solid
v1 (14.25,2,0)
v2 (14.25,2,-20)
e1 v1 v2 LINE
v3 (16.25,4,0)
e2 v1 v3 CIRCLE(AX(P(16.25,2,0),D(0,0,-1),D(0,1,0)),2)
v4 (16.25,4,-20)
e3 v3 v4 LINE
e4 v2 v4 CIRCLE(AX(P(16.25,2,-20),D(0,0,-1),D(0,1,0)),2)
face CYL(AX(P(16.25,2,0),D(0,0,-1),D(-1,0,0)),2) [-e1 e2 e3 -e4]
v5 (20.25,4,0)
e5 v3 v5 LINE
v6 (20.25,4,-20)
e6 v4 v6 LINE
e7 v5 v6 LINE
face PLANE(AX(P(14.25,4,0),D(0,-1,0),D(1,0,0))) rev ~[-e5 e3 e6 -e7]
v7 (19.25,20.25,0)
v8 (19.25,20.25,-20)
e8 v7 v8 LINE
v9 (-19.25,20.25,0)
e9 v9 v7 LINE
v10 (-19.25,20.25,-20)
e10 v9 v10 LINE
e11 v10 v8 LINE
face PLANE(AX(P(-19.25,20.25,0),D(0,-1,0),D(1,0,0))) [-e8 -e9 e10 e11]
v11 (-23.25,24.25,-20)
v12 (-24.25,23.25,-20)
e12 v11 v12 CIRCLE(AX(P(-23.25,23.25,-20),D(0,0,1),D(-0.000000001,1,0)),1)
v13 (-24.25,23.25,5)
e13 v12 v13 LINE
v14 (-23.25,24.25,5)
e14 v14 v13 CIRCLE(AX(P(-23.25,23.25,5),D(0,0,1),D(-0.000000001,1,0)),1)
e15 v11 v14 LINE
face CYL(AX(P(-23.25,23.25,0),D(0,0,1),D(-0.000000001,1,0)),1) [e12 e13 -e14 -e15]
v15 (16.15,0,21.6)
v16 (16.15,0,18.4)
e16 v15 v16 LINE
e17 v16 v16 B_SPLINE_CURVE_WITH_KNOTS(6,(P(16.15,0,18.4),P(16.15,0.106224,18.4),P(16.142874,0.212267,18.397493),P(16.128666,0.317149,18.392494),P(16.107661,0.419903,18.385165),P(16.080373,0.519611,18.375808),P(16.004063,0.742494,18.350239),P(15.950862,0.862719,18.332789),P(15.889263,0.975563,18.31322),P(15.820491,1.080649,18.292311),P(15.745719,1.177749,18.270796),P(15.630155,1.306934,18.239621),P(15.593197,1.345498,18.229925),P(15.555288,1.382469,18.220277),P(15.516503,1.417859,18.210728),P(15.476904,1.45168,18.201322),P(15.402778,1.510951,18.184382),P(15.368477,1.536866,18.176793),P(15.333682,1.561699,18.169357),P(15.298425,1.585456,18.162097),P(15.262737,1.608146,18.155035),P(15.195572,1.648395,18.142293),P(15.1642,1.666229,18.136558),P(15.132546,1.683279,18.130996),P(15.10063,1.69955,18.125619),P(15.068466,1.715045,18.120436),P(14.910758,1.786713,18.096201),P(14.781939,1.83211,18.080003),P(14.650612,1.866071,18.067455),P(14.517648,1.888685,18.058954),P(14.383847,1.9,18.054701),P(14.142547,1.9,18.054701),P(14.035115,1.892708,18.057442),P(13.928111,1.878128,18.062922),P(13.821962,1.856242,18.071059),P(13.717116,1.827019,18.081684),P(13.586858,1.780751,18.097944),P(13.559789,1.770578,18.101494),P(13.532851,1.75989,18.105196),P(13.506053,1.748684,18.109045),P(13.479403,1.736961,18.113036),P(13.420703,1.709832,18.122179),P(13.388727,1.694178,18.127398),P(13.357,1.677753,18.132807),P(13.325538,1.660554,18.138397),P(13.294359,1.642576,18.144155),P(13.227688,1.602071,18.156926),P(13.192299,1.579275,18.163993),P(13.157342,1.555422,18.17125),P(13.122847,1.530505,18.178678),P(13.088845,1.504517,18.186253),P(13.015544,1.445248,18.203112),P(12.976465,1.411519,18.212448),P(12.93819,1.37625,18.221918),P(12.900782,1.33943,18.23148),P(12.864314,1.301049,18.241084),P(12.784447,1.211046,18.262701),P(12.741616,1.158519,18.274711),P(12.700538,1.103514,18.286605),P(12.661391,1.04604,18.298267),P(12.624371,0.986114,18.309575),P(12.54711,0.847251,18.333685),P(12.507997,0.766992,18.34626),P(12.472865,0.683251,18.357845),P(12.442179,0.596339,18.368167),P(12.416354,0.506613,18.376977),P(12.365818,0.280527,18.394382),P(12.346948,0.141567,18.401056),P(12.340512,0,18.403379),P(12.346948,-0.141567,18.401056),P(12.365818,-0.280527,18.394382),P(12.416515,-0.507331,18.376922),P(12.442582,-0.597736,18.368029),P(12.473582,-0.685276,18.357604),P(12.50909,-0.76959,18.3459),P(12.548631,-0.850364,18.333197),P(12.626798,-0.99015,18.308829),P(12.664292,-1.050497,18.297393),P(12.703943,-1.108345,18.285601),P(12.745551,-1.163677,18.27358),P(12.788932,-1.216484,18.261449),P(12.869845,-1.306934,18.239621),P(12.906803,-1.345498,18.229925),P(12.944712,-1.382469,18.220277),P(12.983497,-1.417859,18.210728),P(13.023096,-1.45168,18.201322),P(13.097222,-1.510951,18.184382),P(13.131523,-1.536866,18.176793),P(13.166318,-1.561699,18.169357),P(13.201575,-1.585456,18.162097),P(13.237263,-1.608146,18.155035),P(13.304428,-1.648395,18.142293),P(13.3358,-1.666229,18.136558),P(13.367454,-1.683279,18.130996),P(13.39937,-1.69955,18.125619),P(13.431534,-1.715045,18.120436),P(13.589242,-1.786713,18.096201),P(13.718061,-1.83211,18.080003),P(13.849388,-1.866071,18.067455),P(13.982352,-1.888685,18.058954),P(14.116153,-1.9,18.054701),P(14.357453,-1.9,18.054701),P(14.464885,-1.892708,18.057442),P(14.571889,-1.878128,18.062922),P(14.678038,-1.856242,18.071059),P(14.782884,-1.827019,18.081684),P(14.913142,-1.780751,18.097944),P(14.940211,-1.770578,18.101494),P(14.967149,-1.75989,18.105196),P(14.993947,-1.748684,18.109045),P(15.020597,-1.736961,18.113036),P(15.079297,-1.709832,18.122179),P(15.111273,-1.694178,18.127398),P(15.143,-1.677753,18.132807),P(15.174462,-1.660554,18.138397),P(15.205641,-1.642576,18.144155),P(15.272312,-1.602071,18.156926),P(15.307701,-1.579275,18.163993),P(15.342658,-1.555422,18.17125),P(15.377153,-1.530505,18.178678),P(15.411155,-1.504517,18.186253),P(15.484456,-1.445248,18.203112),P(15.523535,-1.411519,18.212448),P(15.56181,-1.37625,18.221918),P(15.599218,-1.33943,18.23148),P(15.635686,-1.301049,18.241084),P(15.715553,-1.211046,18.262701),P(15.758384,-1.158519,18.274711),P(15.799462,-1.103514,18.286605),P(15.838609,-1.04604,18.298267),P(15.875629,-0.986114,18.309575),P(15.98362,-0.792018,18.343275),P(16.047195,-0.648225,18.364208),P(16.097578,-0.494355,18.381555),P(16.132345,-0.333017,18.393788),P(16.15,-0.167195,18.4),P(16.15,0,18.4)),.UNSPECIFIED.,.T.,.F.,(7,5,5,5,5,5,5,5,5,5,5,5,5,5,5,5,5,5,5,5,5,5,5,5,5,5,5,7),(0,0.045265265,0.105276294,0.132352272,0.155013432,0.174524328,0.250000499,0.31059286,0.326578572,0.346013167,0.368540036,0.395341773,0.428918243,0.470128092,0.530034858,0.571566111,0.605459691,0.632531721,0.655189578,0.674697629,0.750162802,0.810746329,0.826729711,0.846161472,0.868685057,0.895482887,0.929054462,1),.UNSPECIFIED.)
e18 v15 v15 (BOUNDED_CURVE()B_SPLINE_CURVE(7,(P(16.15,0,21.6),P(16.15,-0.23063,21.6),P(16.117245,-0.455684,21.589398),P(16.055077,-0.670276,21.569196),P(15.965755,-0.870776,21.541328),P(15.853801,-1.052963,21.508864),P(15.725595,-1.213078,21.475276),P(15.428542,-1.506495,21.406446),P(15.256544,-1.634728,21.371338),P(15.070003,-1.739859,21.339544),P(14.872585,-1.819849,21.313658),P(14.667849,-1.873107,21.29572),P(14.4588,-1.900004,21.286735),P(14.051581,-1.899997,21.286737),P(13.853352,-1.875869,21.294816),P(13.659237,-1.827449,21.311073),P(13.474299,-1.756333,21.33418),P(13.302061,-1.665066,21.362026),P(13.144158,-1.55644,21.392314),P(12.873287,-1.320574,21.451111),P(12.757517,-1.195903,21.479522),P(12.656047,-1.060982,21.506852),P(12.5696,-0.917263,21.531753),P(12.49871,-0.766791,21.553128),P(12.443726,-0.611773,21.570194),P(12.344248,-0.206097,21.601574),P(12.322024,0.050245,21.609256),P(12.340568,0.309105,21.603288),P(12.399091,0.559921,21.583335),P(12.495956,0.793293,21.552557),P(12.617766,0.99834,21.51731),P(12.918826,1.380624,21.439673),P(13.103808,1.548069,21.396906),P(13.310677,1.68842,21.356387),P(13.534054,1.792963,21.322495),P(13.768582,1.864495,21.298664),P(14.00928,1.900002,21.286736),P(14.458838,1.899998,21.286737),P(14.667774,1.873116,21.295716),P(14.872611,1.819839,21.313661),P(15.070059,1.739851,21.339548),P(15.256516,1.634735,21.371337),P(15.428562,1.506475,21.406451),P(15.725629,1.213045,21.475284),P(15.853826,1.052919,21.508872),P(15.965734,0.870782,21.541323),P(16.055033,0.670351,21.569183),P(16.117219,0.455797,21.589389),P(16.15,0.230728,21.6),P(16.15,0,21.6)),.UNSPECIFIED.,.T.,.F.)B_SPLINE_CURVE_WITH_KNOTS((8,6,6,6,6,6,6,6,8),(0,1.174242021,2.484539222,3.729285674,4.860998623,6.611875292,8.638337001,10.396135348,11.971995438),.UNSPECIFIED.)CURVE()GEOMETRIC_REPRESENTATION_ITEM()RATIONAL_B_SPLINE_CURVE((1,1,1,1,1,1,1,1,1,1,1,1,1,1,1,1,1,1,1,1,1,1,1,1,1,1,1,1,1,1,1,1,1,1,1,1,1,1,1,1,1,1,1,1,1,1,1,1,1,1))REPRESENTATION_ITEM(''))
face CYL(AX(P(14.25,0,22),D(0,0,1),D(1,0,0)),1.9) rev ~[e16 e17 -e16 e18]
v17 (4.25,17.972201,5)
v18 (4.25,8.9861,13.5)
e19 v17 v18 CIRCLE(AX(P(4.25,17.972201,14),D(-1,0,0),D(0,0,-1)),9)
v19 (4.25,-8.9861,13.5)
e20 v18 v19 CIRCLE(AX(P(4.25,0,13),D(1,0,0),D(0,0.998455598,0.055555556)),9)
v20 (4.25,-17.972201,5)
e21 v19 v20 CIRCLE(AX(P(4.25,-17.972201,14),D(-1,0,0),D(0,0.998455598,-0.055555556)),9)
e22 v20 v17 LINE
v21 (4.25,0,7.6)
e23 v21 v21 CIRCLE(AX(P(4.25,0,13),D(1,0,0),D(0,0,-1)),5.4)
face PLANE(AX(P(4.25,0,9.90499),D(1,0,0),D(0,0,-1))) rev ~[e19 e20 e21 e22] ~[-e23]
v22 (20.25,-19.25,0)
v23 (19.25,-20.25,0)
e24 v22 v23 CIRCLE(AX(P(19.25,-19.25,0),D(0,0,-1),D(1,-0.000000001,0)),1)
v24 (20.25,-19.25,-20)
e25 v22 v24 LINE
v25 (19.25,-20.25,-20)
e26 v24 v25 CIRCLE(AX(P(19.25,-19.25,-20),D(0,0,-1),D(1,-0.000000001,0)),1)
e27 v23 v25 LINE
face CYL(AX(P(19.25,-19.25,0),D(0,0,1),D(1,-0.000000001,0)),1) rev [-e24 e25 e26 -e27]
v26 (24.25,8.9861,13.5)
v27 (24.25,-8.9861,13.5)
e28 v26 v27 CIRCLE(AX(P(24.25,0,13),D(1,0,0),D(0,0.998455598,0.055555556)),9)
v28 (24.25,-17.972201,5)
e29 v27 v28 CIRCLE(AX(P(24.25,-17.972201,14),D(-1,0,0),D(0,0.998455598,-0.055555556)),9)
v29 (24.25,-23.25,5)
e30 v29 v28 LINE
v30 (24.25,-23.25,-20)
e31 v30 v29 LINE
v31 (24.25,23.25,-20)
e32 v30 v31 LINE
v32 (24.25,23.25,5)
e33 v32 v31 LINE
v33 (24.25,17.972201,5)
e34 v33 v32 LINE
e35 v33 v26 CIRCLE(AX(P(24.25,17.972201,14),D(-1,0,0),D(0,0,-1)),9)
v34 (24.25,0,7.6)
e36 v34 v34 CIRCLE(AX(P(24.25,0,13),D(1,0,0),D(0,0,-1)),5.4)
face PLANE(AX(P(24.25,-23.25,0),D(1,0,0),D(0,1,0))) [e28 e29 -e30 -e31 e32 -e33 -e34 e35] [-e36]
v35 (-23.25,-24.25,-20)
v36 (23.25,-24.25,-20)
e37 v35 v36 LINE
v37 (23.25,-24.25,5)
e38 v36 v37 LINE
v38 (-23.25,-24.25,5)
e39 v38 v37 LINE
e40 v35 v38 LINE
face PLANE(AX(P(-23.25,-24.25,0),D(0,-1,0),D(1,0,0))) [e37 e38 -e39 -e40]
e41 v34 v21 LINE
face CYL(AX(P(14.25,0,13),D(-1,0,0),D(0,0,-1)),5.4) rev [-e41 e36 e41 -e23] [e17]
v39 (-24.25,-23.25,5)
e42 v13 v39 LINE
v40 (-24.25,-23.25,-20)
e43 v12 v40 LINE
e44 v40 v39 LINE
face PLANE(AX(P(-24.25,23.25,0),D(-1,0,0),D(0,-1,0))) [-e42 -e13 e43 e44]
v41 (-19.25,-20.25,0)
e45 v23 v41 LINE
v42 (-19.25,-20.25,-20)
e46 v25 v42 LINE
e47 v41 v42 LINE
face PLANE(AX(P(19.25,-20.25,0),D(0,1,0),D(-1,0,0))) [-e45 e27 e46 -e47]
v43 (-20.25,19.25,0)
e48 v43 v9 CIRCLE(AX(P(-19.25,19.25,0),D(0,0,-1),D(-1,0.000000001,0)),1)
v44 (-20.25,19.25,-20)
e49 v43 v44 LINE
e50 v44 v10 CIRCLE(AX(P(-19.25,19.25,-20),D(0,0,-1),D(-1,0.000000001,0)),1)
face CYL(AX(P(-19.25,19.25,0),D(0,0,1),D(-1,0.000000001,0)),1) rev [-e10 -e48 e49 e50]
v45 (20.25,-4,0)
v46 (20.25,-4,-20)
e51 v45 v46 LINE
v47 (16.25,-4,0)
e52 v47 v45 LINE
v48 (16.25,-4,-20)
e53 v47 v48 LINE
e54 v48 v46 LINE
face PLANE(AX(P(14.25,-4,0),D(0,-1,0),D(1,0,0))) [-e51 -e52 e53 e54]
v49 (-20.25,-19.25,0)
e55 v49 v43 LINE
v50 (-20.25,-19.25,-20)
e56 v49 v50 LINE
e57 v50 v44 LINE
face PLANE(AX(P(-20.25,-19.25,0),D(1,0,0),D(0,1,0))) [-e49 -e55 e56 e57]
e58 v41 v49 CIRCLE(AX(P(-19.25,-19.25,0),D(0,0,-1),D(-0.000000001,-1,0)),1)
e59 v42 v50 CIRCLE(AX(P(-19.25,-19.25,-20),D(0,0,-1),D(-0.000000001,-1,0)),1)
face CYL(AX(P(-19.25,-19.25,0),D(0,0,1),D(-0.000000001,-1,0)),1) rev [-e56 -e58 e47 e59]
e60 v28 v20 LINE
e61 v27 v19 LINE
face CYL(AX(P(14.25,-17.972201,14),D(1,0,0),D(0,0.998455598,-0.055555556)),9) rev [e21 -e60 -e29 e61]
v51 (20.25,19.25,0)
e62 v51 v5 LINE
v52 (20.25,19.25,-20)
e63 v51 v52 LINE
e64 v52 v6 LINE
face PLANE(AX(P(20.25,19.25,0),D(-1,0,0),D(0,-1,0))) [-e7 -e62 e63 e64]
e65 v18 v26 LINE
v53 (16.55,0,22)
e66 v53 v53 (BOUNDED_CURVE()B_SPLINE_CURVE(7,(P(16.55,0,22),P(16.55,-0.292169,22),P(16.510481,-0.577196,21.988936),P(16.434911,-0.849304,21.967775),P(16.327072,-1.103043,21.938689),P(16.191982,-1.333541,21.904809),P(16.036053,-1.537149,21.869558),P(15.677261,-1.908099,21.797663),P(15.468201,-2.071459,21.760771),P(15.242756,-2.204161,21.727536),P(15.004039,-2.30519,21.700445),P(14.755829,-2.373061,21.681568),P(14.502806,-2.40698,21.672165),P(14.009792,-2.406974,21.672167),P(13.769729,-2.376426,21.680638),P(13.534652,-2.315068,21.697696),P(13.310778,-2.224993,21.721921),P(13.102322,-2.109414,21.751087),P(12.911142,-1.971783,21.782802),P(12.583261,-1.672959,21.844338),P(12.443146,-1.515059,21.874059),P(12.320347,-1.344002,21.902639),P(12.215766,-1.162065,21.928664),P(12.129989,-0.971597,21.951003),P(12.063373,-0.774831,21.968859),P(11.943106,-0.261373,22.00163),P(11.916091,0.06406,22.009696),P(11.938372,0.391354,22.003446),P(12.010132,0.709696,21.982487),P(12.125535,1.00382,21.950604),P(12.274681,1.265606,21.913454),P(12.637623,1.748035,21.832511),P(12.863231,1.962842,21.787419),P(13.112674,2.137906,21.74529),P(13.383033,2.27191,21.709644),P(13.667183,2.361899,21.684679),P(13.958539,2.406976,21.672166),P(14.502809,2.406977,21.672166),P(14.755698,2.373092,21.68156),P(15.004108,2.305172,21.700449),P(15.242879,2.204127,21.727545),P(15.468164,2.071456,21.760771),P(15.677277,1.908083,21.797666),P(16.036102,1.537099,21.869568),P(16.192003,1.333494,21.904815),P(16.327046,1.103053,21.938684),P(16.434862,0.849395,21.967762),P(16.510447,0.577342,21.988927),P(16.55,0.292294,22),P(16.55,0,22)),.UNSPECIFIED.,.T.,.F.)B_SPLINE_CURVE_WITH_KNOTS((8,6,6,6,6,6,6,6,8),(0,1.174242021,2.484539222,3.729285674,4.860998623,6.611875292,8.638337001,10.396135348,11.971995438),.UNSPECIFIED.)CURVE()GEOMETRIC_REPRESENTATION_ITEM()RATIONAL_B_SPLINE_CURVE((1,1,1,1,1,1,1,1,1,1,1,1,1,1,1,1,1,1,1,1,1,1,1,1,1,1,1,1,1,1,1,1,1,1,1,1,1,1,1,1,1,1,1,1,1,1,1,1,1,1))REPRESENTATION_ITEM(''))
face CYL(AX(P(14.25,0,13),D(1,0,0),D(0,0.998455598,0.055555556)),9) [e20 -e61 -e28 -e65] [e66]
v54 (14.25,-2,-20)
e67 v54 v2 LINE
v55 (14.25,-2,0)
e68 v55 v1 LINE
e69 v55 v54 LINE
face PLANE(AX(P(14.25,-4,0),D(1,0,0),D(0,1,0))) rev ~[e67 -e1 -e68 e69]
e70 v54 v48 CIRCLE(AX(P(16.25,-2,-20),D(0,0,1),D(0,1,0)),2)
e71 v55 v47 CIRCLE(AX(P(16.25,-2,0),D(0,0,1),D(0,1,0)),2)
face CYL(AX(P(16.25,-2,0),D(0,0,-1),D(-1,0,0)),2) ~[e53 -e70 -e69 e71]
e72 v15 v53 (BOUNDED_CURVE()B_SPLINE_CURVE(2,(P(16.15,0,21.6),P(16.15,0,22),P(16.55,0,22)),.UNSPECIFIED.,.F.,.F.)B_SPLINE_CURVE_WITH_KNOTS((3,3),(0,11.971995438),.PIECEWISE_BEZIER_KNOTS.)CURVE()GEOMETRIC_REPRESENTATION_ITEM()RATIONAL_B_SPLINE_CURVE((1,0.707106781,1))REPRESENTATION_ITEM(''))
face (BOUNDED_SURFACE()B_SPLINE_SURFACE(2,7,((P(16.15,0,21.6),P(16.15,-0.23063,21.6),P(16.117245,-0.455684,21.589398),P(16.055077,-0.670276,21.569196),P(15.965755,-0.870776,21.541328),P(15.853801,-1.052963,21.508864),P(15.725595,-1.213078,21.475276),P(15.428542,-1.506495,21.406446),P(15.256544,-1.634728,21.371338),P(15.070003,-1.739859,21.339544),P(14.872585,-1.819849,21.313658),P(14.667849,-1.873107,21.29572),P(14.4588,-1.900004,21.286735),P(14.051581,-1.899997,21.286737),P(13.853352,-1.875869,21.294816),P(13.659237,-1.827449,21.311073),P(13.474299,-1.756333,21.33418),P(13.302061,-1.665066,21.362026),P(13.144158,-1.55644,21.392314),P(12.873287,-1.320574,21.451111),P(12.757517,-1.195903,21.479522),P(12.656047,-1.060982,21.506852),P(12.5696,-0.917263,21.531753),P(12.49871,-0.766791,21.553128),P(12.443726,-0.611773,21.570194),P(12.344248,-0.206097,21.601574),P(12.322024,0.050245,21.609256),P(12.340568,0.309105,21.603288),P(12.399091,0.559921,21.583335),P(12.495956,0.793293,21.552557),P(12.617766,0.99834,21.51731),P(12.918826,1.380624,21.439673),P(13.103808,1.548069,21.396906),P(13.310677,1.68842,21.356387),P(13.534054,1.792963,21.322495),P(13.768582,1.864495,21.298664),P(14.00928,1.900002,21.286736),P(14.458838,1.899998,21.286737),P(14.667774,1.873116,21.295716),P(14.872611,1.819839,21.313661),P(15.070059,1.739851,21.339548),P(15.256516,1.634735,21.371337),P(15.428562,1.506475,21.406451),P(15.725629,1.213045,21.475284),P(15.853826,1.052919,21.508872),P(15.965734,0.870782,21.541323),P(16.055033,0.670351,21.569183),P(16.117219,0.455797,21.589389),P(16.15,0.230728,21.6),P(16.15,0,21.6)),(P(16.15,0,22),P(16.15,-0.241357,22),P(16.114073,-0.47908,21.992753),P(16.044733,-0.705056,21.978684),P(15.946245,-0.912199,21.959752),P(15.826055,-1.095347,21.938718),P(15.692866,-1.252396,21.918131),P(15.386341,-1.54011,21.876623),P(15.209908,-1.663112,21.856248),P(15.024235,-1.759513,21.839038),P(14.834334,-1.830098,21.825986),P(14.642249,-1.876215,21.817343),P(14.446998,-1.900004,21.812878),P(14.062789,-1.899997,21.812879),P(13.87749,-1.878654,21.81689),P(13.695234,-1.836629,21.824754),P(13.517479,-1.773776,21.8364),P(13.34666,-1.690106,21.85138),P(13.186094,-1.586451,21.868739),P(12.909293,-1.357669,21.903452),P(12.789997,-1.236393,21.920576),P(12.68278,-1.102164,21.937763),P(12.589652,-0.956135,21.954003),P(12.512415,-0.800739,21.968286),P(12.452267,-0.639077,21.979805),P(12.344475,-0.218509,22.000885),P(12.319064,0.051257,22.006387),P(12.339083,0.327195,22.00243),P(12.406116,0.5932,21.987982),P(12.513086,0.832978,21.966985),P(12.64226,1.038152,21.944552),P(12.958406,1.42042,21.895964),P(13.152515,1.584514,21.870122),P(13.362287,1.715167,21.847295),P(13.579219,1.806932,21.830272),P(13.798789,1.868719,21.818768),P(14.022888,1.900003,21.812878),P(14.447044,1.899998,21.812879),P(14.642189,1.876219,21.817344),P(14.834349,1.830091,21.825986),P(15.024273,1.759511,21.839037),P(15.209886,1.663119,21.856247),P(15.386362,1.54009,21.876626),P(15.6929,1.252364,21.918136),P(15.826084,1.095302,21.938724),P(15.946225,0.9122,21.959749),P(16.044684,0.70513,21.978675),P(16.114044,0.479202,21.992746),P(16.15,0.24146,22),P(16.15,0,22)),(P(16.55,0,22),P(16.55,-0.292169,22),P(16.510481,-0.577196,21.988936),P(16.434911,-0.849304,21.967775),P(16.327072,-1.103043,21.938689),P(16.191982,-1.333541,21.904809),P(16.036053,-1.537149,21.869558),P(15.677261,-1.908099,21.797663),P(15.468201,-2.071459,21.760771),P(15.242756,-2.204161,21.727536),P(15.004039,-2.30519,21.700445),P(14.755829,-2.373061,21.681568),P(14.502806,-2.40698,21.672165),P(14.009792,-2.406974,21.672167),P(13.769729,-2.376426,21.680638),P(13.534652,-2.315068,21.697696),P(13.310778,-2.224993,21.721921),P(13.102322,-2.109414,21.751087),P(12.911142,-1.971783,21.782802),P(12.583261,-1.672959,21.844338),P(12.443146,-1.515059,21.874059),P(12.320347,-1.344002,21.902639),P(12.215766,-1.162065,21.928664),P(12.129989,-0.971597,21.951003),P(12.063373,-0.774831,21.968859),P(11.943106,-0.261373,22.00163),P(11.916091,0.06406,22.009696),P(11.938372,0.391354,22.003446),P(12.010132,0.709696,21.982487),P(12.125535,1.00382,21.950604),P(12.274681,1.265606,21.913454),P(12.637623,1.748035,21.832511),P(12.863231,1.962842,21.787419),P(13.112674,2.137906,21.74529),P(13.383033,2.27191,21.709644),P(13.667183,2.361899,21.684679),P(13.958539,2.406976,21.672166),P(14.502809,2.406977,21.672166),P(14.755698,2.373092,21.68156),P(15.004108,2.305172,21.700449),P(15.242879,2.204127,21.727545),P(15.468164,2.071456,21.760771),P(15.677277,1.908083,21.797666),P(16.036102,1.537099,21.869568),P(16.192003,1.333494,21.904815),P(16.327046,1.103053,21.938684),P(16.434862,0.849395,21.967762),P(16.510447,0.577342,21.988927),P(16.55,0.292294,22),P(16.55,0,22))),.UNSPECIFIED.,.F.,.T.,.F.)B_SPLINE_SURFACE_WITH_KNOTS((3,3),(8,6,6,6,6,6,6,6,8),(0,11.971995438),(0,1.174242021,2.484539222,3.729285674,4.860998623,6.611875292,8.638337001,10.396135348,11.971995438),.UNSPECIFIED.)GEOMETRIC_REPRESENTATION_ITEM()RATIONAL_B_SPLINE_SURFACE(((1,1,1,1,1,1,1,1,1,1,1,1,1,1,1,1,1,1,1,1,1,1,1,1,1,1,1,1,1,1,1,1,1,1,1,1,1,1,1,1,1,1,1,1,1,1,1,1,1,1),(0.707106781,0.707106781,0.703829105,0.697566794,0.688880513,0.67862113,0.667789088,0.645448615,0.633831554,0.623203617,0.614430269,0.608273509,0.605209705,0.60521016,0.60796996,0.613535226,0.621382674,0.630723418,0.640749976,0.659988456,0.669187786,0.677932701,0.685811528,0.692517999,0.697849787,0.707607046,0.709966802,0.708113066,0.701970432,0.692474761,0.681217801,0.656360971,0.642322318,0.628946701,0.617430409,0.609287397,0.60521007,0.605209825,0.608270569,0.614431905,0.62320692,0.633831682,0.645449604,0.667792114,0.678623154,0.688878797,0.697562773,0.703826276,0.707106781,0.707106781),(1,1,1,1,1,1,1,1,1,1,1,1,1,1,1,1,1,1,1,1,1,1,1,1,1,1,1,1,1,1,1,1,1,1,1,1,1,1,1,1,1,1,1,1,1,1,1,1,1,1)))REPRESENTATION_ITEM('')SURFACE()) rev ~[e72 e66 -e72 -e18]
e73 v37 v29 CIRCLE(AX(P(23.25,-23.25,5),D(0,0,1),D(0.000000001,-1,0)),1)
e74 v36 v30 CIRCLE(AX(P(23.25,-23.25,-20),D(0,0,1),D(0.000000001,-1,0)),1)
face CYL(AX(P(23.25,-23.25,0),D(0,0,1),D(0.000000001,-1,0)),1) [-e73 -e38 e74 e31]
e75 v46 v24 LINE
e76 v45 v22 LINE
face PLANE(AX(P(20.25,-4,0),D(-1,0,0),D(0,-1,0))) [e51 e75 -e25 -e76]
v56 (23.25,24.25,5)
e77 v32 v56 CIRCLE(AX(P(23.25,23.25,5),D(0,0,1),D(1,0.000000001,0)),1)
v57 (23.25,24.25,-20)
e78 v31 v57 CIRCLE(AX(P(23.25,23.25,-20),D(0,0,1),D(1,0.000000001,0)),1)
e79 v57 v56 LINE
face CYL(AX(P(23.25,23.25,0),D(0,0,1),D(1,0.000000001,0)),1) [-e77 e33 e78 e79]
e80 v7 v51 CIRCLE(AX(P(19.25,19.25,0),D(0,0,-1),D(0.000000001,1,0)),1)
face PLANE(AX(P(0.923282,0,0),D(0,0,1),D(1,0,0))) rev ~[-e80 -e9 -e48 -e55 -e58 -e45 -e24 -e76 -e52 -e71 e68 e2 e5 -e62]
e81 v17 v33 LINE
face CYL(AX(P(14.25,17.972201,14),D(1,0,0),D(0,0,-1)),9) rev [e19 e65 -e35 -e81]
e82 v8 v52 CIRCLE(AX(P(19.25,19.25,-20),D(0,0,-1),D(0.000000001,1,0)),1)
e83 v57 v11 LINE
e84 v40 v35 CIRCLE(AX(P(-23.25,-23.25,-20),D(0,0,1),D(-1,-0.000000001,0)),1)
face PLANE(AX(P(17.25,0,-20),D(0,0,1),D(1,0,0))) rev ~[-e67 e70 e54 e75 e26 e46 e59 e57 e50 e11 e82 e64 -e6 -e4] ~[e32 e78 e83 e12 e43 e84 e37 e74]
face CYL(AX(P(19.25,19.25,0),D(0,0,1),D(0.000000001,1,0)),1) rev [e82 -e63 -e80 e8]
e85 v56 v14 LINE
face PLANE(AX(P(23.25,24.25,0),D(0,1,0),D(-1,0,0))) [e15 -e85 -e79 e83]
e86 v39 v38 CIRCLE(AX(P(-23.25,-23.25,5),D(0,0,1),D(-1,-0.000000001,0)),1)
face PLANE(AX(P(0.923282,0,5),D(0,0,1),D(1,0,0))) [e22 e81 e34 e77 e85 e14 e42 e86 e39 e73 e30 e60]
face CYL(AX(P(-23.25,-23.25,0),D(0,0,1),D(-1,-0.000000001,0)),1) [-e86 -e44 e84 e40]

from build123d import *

# Parameters (mm, degrees)
BOSS_EXTRUDE1_DEPTH = 5
SKETCH3_R           = 5.4
BOSS_EXTRUDE2_DEPTH = 10
BOSS_EXTRUDE3_START = -20
BOSS_EXTRUDE3_DEPTH = 20
FILLET1_R           = 2
SKETCH4_R           = 1.9
CUT_EXTRUDE1_DEPTH  = 10
FILLET2_R           = 0.4


with BuildPart() as part:
    # Sketch2 → Boss-Extrude1 (new body)
    with BuildSketch(Plane.XY):
        with BuildLine():
            Line((23.25, 24.25), (-23.25, 24.25))
            ThreePointArc((-23.25, 24.25), (-23.957106781, 23.957106781), (-24.25, 23.25))
            Line((-24.25, 23.25), (-24.25, -23.25))
            ThreePointArc((-24.25, -23.25), (-23.957106781, -23.957106781), (-23.25, -24.25))
            Line((-23.25, -24.25), (23.25, -24.25))
            ThreePointArc((23.25, -24.25), (23.957106781, -23.957106781), (24.25, -23.25))
            Line((24.25, -23.25), (24.25, 23.25))
            ThreePointArc((24.25, 23.25), (23.957106781, 23.957106781), (23.25, 24.25))
        make_face()
    extrude(amount=BOSS_EXTRUDE1_DEPTH)

    # Sketch3 → Boss-Extrude2 (add, symmetric)
    with BuildSketch(Plane(origin=(14.25, 0, 0), x_dir=(0, 0, -1), z_dir=(1, 0, 0))):
        with BuildLine():
            Line((-5, -17.972200756), (-5, 17.972200756))
            ThreePointArc((-5, 17.972200756), (-7.461651585, 11.787542317), (-13.5, 8.986100378))
            ThreePointArc((-13.5, 8.986100378), (-22, 0), (-13.5, -8.986100378))
            ThreePointArc((-13.5, -8.986100378), (-7.461651585, -11.787542317), (-5, -17.972200756))
        make_face()
        with Locations((-13, 0)):
            Circle(SKETCH3_R, mode=Mode.SUBTRACT)
    extrude(amount=BOSS_EXTRUDE2_DEPTH, both=True)

    # Sketch2<3> → Boss-Extrude3 (add)
    with BuildSketch(Plane.XY.offset(BOSS_EXTRUDE3_START)):
        with BuildLine():
            Line((23.25, 24.25), (-23.25, 24.25))
            ThreePointArc((-23.25, 24.25), (-23.957106781, 23.957106781), (-24.25, 23.25))
            Line((-24.25, 23.25), (-24.25, -23.25))
            ThreePointArc((-24.25, -23.25), (-23.957106781, -23.957106781), (-23.25, -24.25))
            Line((-23.25, -24.25), (23.25, -24.25))
            ThreePointArc((23.25, -24.25), (23.957106781, -23.957106781), (24.25, -23.25))
            Line((24.25, -23.25), (24.25, 23.25))
            ThreePointArc((24.25, 23.25), (23.957106781, 23.957106781), (23.25, 24.25))
        make_face()
        with BuildLine():
            Line((20.25, 19.25), (20.25, 4))
            Line((20.25, 4), (14.25, 4))
            Line((14.25, 4), (14.25, -4))
            Line((14.25, -4), (20.25, -4))
            Line((20.25, -4), (20.25, -19.25))
            ThreePointArc((20.25, -19.25), (19.957106781, -19.957106781), (19.25, -20.25))
            Line((19.25, -20.25), (-19.25, -20.25))
            ThreePointArc((-19.25, -20.25), (-19.957106781, -19.957106781), (-20.25, -19.25))
            Line((-20.25, -19.25), (-20.25, 19.25))
            ThreePointArc((-20.25, 19.25), (-19.957106781, 19.957106781), (-19.25, 20.25))
            Line((-19.25, 20.25), (19.25, 20.25))
            ThreePointArc((19.25, 20.25), (19.957106781, 19.957106781), (20.25, 19.25))
        make_face(mode=Mode.SUBTRACT)
    extrude(amount=BOSS_EXTRUDE3_DEPTH)

    # Fillet1
    fillet1_edges = [part.edges().sort_by_distance(p)[0] for p in [
        (14.25, -4, -10),
        (14.25, 4, -10),
    ]]
    fillet(fillet1_edges, radius=FILLET1_R)

    # Sketch4 → Cut-Extrude1 (cut)
    with BuildSketch(Plane.XY.offset(22)):
        with Locations((14.25, 0)):
            Circle(SKETCH4_R)
    extrude(amount=-CUT_EXTRUDE1_DEPTH, mode=Mode.SUBTRACT)

    # Fillet2
    fillet2_edges = [part.edges().sort_by_distance(p)[0] for p in [
        (12.349999989, 0, 21.999999997),
    ]]
    fillet(fillet2_edges, radius=FILLET2_R)


solid = part.part
